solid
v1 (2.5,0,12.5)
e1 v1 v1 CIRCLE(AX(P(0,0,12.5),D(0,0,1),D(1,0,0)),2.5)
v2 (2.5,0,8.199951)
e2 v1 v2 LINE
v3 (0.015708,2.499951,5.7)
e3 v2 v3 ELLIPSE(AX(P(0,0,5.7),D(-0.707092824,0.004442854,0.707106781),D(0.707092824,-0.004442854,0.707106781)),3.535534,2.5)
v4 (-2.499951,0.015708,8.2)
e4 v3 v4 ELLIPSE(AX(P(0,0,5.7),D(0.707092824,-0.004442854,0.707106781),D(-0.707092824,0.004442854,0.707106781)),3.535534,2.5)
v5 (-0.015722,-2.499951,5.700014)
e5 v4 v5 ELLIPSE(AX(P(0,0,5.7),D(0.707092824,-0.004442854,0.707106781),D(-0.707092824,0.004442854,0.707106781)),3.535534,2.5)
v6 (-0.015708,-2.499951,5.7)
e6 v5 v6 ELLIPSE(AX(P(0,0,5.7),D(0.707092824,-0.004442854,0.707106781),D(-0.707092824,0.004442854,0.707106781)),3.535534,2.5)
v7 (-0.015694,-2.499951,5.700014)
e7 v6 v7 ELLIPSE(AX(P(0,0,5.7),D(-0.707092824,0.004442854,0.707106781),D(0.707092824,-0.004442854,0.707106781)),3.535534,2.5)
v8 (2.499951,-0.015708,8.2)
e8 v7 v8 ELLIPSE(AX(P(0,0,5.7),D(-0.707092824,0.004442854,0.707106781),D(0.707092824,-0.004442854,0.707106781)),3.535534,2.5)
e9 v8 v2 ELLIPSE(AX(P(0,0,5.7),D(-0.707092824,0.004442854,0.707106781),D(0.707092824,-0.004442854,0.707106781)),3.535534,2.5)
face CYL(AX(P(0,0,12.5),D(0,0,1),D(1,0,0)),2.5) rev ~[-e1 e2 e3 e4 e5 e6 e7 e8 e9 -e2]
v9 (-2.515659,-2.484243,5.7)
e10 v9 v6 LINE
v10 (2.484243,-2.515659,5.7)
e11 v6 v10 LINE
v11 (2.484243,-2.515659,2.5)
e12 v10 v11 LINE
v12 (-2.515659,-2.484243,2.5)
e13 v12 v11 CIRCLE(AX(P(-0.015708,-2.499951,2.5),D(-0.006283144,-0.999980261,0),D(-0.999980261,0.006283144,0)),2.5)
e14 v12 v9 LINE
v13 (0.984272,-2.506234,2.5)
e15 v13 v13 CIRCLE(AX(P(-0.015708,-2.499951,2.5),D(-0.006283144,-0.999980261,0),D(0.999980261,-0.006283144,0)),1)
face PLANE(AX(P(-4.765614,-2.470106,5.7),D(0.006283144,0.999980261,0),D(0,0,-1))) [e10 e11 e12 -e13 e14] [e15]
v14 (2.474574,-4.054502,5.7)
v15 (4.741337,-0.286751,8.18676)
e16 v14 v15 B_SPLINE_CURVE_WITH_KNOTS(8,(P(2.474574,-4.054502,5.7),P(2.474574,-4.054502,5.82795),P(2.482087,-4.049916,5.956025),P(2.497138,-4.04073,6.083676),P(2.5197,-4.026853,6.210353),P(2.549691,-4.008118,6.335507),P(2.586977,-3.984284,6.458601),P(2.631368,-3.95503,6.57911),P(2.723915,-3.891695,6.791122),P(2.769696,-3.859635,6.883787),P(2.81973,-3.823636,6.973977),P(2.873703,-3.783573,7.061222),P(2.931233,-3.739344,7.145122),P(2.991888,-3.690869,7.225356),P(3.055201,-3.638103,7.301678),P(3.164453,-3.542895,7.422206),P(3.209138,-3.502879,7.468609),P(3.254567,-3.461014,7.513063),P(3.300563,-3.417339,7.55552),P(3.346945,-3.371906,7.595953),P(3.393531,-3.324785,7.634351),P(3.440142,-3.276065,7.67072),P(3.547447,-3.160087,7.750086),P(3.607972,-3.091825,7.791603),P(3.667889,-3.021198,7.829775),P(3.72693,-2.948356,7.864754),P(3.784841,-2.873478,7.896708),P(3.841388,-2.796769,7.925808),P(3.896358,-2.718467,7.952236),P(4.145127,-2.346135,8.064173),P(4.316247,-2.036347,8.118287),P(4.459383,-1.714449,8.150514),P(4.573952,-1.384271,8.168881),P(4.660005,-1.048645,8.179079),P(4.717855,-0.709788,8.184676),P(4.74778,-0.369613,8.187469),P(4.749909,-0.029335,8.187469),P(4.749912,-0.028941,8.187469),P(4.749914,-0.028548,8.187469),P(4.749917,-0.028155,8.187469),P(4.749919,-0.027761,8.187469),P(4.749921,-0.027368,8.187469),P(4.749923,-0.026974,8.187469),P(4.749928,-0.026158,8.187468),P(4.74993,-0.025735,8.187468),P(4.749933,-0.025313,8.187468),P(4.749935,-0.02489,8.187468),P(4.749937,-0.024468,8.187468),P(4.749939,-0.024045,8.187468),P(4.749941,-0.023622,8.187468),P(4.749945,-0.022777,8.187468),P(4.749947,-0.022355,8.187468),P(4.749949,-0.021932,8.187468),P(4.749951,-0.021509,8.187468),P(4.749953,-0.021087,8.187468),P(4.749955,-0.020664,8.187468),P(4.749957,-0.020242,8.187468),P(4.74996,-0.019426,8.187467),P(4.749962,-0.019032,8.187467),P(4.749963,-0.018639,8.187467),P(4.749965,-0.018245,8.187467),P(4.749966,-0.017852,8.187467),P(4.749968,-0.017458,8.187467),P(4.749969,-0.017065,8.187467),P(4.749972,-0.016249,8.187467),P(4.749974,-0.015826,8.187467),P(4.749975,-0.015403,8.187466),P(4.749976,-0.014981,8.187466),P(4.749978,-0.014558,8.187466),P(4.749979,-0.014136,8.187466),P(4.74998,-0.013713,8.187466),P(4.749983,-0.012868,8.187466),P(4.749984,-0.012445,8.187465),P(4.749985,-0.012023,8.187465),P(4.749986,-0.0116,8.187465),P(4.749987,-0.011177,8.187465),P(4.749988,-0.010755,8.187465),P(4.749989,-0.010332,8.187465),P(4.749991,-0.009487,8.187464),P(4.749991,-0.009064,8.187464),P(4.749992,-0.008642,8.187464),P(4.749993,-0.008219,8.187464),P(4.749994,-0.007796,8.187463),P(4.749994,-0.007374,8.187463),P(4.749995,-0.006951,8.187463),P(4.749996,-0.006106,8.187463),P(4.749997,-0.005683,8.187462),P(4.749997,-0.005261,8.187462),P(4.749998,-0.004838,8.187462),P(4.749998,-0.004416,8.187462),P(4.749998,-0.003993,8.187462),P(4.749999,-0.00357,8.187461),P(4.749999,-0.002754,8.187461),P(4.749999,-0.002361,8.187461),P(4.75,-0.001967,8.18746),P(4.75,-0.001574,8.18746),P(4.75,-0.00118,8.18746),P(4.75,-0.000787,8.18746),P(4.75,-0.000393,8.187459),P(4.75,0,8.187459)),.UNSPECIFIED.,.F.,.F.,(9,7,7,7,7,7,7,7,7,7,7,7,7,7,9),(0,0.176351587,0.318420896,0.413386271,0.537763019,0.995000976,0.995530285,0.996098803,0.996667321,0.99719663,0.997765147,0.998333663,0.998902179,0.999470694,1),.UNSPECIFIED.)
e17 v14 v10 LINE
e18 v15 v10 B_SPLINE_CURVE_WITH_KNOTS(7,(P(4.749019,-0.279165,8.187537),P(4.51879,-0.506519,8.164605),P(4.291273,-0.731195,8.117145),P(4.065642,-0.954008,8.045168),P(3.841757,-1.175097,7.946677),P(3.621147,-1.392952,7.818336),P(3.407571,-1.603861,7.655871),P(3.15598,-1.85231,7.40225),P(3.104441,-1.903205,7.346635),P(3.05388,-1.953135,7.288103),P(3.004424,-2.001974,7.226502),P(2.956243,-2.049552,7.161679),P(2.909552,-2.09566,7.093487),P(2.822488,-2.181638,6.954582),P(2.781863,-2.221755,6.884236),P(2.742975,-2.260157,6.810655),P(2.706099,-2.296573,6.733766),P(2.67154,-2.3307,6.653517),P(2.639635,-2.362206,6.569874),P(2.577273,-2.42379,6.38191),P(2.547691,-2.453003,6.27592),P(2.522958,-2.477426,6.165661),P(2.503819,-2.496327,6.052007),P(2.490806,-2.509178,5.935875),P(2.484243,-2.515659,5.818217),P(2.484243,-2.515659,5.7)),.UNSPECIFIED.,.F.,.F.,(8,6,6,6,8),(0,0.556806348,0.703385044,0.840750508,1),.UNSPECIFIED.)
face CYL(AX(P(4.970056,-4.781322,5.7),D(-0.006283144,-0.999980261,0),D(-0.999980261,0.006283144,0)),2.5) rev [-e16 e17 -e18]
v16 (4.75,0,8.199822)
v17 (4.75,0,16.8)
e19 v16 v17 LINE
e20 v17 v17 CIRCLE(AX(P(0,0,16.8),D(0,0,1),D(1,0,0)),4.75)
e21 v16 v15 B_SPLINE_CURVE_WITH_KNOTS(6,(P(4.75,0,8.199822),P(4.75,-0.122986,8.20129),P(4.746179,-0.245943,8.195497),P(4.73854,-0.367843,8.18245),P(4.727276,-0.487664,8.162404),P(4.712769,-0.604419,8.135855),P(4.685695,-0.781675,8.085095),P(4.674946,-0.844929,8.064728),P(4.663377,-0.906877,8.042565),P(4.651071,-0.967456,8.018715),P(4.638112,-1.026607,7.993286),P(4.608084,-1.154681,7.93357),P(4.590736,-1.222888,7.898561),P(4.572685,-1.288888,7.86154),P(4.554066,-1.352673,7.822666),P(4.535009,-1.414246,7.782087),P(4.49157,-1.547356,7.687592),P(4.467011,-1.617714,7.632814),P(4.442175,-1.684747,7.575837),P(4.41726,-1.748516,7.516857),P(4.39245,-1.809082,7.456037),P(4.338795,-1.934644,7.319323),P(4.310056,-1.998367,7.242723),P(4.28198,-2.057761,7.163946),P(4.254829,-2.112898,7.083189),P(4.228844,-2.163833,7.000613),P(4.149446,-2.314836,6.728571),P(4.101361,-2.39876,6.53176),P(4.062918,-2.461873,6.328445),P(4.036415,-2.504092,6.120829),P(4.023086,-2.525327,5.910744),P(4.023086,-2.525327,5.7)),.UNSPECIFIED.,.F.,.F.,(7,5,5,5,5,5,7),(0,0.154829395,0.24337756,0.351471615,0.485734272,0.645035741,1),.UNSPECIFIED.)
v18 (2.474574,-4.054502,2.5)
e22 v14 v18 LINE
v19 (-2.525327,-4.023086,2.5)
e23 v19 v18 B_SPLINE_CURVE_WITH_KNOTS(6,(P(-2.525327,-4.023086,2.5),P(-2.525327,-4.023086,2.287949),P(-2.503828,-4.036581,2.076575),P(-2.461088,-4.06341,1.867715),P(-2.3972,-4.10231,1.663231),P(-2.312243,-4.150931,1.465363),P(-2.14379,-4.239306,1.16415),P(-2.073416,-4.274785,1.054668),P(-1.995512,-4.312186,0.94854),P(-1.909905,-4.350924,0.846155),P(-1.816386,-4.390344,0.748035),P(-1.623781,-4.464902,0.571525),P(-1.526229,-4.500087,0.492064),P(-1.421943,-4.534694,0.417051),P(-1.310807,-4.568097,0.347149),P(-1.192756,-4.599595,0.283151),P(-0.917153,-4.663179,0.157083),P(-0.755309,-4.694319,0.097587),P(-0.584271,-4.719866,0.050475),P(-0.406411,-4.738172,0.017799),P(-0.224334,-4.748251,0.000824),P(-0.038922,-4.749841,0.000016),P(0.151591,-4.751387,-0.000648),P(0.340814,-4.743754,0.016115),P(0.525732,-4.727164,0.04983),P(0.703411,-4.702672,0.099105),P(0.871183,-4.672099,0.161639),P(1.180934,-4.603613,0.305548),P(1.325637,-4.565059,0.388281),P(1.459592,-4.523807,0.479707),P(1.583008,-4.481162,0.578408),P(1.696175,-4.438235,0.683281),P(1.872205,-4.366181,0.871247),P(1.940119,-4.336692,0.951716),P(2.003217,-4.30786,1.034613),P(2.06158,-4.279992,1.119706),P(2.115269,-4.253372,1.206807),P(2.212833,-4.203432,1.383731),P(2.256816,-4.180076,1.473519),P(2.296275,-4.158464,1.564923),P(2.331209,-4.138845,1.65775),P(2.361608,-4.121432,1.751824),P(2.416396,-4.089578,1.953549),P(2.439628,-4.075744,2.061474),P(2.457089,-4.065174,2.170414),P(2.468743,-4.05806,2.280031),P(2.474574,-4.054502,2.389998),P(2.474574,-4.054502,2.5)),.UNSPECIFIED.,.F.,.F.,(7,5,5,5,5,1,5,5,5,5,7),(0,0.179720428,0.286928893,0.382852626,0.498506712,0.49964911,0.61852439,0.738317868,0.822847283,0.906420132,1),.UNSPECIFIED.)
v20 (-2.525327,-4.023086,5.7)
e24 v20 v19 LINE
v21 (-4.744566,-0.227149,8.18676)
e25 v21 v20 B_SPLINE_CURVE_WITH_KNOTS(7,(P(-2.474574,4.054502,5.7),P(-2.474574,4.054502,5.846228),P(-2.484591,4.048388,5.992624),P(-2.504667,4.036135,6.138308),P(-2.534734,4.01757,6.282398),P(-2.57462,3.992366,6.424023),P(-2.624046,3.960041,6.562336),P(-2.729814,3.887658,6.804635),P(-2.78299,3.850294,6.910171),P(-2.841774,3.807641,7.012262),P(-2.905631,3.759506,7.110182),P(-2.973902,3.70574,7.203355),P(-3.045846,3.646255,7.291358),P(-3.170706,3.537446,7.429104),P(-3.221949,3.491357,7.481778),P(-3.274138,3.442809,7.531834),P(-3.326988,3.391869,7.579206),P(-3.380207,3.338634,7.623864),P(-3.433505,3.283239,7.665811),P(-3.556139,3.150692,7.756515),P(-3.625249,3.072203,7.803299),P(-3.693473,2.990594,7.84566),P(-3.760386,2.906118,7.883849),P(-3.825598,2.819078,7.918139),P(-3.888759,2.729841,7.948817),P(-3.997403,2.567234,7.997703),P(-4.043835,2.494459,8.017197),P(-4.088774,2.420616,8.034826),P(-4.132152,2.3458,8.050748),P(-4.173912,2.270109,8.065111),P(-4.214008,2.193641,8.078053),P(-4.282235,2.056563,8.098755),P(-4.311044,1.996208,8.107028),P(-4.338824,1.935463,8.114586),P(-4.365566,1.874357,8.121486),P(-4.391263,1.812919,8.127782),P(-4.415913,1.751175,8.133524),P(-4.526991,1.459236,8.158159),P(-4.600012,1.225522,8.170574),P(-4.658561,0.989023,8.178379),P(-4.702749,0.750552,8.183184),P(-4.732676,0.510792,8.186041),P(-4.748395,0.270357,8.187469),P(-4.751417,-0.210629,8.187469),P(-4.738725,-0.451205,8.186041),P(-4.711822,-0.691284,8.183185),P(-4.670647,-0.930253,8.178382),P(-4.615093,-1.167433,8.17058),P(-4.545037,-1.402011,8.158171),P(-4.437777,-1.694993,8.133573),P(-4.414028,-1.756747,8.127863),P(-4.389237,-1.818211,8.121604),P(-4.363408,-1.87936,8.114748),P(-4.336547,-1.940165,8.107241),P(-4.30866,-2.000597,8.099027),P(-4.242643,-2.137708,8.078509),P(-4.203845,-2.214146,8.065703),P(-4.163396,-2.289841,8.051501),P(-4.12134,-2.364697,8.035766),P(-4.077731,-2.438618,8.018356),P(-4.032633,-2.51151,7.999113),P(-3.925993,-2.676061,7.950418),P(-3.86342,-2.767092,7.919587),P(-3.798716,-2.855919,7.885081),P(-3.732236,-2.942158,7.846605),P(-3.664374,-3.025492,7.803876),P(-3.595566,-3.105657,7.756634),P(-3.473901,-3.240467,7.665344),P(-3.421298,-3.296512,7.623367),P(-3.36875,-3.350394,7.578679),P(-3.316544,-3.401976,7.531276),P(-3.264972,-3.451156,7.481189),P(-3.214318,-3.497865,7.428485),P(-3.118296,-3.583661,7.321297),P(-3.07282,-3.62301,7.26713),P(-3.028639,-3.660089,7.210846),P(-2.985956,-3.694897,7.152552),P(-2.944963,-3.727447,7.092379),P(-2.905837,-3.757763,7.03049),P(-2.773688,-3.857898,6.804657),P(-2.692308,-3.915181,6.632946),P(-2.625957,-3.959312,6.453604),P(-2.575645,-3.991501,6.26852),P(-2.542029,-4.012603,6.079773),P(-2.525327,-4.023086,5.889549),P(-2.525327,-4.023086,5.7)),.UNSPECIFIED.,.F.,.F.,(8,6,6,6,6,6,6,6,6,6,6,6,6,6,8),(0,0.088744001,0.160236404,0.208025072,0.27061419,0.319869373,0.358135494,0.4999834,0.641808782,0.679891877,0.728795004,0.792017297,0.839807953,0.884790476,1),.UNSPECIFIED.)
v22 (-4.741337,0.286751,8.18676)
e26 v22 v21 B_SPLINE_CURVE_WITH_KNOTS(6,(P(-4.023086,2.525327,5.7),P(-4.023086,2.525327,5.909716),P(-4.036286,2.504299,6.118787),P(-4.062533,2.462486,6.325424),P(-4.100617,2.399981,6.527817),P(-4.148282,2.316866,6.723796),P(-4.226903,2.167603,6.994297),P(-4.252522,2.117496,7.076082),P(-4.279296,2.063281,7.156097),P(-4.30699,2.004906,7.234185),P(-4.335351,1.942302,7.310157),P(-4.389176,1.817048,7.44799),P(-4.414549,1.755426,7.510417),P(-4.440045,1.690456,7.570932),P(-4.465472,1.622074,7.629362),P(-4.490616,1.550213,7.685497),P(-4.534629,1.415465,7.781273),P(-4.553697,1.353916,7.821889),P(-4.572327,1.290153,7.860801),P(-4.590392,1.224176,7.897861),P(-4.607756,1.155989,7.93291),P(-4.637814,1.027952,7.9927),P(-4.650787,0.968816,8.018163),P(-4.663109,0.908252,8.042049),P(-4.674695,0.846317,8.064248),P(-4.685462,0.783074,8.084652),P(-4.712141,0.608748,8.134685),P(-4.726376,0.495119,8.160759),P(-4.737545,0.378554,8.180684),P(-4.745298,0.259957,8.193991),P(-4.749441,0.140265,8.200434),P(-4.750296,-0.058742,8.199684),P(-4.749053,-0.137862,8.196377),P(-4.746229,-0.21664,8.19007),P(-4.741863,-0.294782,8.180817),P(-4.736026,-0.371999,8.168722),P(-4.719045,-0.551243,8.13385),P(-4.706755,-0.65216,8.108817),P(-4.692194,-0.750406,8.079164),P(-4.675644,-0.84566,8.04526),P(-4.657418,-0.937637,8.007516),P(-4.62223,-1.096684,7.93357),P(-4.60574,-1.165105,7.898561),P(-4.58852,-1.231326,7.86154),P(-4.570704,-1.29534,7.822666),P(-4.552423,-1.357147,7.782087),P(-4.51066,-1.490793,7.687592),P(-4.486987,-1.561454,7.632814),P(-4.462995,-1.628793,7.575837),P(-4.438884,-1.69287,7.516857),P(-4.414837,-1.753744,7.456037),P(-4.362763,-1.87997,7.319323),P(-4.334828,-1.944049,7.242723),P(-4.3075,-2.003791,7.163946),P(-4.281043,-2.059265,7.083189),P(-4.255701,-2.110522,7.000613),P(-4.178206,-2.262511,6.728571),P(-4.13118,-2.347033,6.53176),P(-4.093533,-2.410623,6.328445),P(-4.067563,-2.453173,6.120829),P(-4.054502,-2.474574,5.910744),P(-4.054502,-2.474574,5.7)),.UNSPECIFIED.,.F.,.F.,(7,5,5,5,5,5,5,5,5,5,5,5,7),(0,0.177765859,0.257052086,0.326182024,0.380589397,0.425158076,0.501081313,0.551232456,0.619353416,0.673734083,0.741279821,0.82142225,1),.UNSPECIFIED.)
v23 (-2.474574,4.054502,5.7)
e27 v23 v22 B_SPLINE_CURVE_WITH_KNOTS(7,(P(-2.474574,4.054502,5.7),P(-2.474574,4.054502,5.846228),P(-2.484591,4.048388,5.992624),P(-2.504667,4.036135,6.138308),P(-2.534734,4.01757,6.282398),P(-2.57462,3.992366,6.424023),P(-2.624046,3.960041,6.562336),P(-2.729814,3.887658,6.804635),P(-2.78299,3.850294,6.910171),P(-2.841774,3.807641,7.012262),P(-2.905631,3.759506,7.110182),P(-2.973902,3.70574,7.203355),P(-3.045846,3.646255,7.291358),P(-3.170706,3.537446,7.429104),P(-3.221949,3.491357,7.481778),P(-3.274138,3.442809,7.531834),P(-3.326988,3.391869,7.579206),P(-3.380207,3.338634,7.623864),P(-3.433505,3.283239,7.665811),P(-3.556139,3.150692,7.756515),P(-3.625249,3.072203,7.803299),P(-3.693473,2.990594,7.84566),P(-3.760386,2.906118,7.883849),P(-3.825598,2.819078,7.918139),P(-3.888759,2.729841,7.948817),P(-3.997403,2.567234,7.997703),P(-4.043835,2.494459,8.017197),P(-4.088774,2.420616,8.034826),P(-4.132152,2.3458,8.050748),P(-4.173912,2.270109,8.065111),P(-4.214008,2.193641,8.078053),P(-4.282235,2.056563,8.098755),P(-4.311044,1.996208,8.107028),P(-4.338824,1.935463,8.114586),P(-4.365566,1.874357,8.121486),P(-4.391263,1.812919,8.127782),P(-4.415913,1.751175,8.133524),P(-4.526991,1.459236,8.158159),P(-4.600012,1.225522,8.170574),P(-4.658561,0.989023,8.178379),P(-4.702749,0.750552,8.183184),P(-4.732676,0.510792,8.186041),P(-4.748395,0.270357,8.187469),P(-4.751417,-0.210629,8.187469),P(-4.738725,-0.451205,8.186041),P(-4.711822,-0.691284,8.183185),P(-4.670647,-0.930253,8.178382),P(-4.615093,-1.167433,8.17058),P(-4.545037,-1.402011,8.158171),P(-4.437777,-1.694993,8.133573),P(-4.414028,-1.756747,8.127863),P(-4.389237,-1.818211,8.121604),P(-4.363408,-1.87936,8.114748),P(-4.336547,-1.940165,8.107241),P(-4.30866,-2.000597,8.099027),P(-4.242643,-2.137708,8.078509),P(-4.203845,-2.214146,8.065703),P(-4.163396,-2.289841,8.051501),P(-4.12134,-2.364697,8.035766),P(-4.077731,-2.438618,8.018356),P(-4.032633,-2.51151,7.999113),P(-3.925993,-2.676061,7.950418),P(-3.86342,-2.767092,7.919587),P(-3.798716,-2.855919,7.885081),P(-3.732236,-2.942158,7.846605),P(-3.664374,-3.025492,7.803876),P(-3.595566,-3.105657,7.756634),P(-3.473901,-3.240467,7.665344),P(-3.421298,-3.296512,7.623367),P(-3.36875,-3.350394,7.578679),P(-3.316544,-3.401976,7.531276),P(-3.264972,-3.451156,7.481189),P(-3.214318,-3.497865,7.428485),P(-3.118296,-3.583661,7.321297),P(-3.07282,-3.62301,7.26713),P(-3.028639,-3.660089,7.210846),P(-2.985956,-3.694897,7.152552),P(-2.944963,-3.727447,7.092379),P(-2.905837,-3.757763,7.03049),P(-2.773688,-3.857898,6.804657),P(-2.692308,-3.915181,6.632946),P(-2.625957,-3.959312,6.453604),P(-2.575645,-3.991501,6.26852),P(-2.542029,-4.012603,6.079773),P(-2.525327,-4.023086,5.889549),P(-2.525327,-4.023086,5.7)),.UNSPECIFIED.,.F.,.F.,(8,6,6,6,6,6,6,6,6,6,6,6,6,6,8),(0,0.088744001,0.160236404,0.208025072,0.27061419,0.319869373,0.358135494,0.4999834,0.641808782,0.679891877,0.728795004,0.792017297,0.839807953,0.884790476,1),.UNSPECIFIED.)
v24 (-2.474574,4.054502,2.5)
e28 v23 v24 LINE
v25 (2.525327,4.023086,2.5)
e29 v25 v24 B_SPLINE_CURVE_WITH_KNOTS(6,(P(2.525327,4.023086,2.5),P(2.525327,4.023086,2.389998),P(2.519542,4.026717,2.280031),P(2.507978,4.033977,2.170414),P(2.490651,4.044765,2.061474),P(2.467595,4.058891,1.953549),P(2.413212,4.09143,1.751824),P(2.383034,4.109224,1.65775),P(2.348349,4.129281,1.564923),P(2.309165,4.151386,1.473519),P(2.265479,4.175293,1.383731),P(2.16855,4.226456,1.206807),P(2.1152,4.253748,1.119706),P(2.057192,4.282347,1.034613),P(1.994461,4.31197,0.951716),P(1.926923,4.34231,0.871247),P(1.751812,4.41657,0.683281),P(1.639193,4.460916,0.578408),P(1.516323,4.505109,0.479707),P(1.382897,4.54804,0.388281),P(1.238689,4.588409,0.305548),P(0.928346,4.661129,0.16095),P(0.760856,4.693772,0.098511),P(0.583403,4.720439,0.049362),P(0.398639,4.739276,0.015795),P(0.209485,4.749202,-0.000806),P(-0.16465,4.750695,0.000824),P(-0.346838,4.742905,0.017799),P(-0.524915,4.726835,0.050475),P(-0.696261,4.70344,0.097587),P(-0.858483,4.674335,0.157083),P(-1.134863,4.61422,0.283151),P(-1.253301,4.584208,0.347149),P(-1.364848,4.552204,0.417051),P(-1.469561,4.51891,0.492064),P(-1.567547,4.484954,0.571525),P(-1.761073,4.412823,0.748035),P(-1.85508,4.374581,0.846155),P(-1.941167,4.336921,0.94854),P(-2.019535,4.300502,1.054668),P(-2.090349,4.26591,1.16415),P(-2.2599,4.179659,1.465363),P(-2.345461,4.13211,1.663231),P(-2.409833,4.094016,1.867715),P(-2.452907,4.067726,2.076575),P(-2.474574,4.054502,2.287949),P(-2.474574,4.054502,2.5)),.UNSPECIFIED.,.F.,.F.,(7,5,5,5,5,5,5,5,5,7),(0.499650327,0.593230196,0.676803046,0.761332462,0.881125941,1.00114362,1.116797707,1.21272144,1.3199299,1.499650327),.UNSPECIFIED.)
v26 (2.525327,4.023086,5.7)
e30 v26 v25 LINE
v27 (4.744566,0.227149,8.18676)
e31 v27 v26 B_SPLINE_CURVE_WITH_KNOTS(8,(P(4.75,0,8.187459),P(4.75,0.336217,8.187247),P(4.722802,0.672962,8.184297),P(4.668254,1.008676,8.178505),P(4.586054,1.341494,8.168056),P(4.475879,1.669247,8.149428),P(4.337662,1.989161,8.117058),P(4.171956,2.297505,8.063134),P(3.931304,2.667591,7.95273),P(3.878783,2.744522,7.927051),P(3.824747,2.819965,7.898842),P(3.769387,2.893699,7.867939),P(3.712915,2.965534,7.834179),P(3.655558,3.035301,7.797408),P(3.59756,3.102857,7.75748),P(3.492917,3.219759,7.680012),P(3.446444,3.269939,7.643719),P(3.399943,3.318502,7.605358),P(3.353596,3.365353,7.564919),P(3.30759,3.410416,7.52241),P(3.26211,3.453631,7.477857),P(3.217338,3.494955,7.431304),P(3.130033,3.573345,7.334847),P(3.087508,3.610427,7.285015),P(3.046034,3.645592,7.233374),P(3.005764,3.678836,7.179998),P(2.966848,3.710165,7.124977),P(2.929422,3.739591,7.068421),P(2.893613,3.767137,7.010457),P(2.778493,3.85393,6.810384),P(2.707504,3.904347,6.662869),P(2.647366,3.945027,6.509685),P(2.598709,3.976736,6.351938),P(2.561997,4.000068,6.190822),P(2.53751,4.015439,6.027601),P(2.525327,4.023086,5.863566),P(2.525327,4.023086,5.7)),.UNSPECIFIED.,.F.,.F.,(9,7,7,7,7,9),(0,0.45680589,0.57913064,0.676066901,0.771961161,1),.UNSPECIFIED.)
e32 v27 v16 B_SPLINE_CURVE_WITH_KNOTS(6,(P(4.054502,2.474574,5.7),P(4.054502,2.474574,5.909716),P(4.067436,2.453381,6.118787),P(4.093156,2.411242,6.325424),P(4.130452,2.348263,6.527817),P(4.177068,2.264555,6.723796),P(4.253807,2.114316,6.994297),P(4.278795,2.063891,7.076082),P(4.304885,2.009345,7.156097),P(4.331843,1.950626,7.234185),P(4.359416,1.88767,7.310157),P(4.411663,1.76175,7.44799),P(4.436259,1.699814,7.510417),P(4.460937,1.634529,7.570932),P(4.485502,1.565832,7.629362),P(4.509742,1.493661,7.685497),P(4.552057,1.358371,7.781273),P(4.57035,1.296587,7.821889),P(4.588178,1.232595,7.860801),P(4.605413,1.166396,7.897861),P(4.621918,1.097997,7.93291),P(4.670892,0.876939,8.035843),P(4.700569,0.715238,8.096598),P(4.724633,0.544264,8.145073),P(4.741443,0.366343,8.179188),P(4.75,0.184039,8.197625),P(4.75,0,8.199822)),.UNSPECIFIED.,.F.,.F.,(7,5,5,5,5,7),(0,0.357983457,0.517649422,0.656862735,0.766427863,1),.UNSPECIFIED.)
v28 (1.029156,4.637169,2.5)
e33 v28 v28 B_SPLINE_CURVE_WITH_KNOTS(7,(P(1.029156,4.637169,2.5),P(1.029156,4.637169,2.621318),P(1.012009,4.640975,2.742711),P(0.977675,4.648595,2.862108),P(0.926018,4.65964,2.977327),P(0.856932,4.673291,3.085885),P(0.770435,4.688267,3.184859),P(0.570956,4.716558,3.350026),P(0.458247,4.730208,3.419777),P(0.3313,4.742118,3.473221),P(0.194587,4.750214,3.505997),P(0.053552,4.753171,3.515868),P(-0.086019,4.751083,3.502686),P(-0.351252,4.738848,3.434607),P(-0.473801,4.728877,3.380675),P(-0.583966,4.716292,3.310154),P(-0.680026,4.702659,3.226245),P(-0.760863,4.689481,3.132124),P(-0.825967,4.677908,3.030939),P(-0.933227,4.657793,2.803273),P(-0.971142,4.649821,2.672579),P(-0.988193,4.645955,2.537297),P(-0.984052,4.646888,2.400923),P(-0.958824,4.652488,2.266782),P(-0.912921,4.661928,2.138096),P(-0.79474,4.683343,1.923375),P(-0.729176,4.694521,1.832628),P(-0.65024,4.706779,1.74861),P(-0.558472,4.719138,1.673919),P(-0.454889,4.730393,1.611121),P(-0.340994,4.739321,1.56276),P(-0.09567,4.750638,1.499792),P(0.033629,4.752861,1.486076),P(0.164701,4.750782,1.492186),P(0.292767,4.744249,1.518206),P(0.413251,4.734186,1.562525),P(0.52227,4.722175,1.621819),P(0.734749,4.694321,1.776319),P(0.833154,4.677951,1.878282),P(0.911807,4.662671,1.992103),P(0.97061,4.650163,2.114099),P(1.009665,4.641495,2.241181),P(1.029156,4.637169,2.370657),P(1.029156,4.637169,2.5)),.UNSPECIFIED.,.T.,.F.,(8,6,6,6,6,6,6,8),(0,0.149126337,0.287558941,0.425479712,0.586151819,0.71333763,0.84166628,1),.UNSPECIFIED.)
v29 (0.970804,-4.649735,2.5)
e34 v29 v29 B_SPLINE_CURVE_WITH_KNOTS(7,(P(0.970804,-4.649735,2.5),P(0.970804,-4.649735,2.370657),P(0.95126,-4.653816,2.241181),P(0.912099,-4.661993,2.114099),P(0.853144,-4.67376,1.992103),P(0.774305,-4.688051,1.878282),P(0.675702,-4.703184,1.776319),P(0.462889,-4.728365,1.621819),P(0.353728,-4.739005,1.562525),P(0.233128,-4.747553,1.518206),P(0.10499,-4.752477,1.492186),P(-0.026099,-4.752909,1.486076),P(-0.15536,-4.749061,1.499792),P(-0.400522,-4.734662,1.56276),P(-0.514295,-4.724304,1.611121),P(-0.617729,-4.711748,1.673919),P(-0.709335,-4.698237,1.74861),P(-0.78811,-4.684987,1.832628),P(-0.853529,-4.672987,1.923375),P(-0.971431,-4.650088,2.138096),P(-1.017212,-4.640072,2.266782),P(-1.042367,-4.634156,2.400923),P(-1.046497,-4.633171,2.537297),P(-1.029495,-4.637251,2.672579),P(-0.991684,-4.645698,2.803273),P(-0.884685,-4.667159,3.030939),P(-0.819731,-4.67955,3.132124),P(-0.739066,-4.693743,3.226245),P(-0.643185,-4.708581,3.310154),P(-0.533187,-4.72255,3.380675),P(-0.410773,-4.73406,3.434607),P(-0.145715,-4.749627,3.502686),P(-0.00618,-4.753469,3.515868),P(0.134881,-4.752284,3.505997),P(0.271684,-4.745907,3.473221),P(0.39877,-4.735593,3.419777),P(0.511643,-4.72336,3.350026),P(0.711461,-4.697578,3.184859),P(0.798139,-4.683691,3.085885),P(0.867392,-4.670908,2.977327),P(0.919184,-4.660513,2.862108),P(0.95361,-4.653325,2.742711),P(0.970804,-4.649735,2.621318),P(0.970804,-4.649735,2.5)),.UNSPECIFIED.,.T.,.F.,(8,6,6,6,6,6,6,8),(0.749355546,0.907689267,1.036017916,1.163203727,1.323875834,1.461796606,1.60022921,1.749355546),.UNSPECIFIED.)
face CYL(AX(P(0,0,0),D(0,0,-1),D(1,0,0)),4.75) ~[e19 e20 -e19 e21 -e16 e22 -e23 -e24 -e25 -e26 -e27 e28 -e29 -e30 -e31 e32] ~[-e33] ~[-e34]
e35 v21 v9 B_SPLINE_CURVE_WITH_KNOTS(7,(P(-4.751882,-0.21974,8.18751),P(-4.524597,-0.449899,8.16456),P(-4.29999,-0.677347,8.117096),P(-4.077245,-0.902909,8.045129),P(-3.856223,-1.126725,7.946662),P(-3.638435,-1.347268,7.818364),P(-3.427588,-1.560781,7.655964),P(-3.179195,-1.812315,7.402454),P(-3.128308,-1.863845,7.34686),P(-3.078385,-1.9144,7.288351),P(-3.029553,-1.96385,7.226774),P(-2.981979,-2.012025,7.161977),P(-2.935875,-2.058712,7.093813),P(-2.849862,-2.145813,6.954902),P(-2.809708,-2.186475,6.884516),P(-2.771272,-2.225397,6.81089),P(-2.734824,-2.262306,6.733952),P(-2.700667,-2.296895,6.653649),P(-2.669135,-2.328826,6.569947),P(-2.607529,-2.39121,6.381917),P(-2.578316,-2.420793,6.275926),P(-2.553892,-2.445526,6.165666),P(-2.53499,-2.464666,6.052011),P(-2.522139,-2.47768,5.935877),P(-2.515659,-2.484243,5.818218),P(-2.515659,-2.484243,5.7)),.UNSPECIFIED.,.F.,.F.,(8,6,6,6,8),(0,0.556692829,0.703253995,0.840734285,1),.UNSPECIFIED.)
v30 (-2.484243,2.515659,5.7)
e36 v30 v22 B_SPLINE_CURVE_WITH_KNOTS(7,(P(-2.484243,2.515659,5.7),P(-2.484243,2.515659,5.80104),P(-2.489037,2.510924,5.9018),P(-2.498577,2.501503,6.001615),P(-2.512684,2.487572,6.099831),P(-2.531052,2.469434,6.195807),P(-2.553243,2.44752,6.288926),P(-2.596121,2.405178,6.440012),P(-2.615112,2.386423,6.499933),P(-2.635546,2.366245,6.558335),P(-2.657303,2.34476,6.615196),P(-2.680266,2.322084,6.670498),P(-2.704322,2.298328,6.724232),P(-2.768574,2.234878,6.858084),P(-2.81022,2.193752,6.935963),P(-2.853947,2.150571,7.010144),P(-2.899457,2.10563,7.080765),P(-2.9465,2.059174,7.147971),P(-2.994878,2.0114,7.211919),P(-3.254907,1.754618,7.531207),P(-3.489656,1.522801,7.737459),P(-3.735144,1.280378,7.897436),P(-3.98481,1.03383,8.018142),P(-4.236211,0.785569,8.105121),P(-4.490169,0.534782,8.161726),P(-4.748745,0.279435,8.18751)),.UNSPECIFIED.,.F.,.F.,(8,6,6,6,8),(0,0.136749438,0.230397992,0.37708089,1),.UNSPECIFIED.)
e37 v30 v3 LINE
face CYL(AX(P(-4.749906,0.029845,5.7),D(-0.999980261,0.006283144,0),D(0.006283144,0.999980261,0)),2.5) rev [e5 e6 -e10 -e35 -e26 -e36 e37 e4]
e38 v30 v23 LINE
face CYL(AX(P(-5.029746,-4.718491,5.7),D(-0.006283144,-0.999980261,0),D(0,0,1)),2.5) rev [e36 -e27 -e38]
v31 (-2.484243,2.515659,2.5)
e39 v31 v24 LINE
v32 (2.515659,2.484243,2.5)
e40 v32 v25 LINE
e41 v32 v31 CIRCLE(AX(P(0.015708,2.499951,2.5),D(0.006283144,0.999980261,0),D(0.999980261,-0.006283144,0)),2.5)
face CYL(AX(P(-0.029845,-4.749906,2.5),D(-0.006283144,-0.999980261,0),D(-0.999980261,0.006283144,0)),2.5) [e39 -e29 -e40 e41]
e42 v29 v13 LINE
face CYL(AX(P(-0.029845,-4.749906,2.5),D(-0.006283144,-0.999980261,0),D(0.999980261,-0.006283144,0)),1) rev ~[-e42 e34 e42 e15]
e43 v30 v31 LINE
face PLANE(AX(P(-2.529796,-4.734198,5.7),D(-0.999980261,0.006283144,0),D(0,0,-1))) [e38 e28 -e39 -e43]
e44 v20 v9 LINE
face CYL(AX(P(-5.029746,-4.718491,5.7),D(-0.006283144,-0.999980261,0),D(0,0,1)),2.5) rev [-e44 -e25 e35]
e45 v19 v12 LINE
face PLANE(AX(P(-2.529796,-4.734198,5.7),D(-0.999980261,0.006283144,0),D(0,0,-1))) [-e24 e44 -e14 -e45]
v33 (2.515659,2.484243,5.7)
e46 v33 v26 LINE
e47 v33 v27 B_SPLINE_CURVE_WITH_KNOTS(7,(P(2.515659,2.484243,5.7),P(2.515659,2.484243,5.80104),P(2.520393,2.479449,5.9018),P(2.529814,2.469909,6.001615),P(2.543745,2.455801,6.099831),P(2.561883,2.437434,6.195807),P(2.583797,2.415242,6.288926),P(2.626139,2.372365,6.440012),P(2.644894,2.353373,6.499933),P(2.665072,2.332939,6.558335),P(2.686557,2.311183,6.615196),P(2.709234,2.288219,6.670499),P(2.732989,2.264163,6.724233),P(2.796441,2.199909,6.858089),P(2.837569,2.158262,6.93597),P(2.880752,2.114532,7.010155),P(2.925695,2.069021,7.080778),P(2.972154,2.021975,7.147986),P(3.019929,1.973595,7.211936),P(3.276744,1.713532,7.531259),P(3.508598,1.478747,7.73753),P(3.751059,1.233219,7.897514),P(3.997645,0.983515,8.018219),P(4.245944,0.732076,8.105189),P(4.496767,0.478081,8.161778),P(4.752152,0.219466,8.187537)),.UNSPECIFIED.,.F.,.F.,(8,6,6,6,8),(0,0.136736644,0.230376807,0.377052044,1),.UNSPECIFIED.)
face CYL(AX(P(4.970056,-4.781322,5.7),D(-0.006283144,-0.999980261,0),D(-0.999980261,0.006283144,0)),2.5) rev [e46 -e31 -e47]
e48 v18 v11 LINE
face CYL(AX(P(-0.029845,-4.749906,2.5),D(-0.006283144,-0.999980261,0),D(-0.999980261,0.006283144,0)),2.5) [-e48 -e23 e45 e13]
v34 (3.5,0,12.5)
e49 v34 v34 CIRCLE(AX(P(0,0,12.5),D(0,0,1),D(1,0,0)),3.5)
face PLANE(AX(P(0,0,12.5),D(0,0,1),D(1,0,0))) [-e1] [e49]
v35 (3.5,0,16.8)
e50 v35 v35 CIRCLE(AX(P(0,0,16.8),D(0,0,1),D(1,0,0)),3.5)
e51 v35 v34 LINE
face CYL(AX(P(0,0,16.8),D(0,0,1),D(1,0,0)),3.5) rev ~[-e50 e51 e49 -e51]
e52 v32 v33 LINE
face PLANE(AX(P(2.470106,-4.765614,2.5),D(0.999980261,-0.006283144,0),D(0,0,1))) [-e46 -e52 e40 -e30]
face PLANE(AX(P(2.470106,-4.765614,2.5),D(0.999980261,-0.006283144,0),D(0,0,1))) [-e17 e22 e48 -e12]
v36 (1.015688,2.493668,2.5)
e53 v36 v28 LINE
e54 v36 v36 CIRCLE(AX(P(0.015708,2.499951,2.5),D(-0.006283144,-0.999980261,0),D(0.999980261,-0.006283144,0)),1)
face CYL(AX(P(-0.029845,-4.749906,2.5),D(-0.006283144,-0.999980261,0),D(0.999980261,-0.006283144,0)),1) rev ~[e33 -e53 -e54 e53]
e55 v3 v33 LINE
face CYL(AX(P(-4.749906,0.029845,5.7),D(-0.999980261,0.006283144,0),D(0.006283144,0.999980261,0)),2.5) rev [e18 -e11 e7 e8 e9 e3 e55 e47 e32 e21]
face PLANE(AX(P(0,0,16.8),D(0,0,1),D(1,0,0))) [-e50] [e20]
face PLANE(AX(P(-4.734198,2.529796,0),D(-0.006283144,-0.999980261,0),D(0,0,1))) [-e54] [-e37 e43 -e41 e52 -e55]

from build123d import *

# Parameters (mm, degrees)
ESQUISSE1_R             = 4.75
BOSS_EXTRU_1_DEPTH      = 16.8
ESQUISSE2_R             = 3.5
ENL_V_MAT_EXTRU_1_DEPTH = 4.3
ESQUISSE3_R             = 2.5
ENL_V_MAT_EXTRU_2_DEPTH = 15.190665946
ENL_V_MAT_EXTRU_3_DEPTH = 20.883036391
ENL_V_MAT_EXTRU_4_DEPTH = 20.883036548
ESQUISSE6_R             = 1
ENL_V_MAT_EXTRU_5_DEPTH = 20.883036548


with BuildPart() as part:
    # Esquisse1 → Boss.-Extru.1 (new body)
    with BuildSketch(Plane.XY):
        Circle(ESQUISSE1_R)
    extrude(amount=BOSS_EXTRU_1_DEPTH)

    # Esquisse2 → Enlèv. mat.-Extru.1 (cut)
    with BuildSketch(Plane.XY.offset(16.8)):
        Circle(ESQUISSE2_R)
    extrude(amount=-ENL_V_MAT_EXTRU_1_DEPTH, mode=Mode.SUBTRACT)

    # Esquisse3 → Enlèv. mat.-Extru.2 (cut, through all)
    with BuildSketch(Plane.XY.offset(12.5)):
        Circle(ESQUISSE3_R)
    extrude(amount=-ENL_V_MAT_EXTRU_2_DEPTH, mode=Mode.SUBTRACT)

    # Esquisse4 → Enlèv. mat.-Extru.3 (cut, through all)
    with BuildSketch(Plane(origin=(-4.749906239, 0.029844934, 0), x_dir=(0, 0, 1), z_dir=(-0.9999802608561372, 0.006283143965558955, 0))):
        with BuildLine():
            Line((0, 2.5), (5.7, 2.5))
            ThreePointArc((5.7, 2.5), (8.2, 0), (5.7, -2.5))
            Line((5.7, -2.5), (0, -2.5))
            Line((0, -2.5), (0, 2.5))
        make_face()
    extrude(amount=-ENL_V_MAT_EXTRU_3_DEPTH, mode=Mode.SUBTRACT)

    # Esquisse5 → Enlèv. mat.-Extru.4 (cut, through all)
    with BuildSketch(Plane(origin=(-0.029844934, -4.749906239, 0), x_dir=(0.9999802608561372, -0.006283143965558958, 0), z_dir=(-0.006283143965558958, -0.9999802608561372, 0))):
        with BuildLine():
            Line((5, 8.2), (8.5, 8.2))
            Line((8.5, 8.2), (8.5, -0.8))
            Line((8.5, -0.8), (-6.868883302, -0.8))
            Line((-6.868883302, -0.8), (-6.868883302, 8.2))
            Line((-6.868883302, 8.2), (-5, 8.2))
            ThreePointArc((-5, 8.2), (-3.232233047, 7.467766953), (-2.5, 5.7))
            Line((-2.5, 5.7), (-2.5, 2.5))
            ThreePointArc((-2.5, 2.5), (0, 0), (2.5, 2.5))
            Line((2.5, 2.5), (2.5, 5.7))
            ThreePointArc((2.5, 5.7), (3.232233047, 7.467766953), (5, 8.2))
        make_face()
    extrude(amount=-ENL_V_MAT_EXTRU_4_DEPTH, mode=Mode.SUBTRACT)

    # Esquisse6 → Enlèv. mat.-Extru.5 (cut, through all)
    with BuildSketch(Plane(origin=(-0.029844934, -4.749906239, 0), x_dir=(0.9999802608561372, -0.006283143965558958, 0), z_dir=(-0.006283143965558958, -0.9999802608561372, 0))):
        with Locations((0, 2.5)):
            Circle(ESQUISSE6_R)
    extrude(amount=-ENL_V_MAT_EXTRU_5_DEPTH, mode=Mode.SUBTRACT)


solid = part.part
